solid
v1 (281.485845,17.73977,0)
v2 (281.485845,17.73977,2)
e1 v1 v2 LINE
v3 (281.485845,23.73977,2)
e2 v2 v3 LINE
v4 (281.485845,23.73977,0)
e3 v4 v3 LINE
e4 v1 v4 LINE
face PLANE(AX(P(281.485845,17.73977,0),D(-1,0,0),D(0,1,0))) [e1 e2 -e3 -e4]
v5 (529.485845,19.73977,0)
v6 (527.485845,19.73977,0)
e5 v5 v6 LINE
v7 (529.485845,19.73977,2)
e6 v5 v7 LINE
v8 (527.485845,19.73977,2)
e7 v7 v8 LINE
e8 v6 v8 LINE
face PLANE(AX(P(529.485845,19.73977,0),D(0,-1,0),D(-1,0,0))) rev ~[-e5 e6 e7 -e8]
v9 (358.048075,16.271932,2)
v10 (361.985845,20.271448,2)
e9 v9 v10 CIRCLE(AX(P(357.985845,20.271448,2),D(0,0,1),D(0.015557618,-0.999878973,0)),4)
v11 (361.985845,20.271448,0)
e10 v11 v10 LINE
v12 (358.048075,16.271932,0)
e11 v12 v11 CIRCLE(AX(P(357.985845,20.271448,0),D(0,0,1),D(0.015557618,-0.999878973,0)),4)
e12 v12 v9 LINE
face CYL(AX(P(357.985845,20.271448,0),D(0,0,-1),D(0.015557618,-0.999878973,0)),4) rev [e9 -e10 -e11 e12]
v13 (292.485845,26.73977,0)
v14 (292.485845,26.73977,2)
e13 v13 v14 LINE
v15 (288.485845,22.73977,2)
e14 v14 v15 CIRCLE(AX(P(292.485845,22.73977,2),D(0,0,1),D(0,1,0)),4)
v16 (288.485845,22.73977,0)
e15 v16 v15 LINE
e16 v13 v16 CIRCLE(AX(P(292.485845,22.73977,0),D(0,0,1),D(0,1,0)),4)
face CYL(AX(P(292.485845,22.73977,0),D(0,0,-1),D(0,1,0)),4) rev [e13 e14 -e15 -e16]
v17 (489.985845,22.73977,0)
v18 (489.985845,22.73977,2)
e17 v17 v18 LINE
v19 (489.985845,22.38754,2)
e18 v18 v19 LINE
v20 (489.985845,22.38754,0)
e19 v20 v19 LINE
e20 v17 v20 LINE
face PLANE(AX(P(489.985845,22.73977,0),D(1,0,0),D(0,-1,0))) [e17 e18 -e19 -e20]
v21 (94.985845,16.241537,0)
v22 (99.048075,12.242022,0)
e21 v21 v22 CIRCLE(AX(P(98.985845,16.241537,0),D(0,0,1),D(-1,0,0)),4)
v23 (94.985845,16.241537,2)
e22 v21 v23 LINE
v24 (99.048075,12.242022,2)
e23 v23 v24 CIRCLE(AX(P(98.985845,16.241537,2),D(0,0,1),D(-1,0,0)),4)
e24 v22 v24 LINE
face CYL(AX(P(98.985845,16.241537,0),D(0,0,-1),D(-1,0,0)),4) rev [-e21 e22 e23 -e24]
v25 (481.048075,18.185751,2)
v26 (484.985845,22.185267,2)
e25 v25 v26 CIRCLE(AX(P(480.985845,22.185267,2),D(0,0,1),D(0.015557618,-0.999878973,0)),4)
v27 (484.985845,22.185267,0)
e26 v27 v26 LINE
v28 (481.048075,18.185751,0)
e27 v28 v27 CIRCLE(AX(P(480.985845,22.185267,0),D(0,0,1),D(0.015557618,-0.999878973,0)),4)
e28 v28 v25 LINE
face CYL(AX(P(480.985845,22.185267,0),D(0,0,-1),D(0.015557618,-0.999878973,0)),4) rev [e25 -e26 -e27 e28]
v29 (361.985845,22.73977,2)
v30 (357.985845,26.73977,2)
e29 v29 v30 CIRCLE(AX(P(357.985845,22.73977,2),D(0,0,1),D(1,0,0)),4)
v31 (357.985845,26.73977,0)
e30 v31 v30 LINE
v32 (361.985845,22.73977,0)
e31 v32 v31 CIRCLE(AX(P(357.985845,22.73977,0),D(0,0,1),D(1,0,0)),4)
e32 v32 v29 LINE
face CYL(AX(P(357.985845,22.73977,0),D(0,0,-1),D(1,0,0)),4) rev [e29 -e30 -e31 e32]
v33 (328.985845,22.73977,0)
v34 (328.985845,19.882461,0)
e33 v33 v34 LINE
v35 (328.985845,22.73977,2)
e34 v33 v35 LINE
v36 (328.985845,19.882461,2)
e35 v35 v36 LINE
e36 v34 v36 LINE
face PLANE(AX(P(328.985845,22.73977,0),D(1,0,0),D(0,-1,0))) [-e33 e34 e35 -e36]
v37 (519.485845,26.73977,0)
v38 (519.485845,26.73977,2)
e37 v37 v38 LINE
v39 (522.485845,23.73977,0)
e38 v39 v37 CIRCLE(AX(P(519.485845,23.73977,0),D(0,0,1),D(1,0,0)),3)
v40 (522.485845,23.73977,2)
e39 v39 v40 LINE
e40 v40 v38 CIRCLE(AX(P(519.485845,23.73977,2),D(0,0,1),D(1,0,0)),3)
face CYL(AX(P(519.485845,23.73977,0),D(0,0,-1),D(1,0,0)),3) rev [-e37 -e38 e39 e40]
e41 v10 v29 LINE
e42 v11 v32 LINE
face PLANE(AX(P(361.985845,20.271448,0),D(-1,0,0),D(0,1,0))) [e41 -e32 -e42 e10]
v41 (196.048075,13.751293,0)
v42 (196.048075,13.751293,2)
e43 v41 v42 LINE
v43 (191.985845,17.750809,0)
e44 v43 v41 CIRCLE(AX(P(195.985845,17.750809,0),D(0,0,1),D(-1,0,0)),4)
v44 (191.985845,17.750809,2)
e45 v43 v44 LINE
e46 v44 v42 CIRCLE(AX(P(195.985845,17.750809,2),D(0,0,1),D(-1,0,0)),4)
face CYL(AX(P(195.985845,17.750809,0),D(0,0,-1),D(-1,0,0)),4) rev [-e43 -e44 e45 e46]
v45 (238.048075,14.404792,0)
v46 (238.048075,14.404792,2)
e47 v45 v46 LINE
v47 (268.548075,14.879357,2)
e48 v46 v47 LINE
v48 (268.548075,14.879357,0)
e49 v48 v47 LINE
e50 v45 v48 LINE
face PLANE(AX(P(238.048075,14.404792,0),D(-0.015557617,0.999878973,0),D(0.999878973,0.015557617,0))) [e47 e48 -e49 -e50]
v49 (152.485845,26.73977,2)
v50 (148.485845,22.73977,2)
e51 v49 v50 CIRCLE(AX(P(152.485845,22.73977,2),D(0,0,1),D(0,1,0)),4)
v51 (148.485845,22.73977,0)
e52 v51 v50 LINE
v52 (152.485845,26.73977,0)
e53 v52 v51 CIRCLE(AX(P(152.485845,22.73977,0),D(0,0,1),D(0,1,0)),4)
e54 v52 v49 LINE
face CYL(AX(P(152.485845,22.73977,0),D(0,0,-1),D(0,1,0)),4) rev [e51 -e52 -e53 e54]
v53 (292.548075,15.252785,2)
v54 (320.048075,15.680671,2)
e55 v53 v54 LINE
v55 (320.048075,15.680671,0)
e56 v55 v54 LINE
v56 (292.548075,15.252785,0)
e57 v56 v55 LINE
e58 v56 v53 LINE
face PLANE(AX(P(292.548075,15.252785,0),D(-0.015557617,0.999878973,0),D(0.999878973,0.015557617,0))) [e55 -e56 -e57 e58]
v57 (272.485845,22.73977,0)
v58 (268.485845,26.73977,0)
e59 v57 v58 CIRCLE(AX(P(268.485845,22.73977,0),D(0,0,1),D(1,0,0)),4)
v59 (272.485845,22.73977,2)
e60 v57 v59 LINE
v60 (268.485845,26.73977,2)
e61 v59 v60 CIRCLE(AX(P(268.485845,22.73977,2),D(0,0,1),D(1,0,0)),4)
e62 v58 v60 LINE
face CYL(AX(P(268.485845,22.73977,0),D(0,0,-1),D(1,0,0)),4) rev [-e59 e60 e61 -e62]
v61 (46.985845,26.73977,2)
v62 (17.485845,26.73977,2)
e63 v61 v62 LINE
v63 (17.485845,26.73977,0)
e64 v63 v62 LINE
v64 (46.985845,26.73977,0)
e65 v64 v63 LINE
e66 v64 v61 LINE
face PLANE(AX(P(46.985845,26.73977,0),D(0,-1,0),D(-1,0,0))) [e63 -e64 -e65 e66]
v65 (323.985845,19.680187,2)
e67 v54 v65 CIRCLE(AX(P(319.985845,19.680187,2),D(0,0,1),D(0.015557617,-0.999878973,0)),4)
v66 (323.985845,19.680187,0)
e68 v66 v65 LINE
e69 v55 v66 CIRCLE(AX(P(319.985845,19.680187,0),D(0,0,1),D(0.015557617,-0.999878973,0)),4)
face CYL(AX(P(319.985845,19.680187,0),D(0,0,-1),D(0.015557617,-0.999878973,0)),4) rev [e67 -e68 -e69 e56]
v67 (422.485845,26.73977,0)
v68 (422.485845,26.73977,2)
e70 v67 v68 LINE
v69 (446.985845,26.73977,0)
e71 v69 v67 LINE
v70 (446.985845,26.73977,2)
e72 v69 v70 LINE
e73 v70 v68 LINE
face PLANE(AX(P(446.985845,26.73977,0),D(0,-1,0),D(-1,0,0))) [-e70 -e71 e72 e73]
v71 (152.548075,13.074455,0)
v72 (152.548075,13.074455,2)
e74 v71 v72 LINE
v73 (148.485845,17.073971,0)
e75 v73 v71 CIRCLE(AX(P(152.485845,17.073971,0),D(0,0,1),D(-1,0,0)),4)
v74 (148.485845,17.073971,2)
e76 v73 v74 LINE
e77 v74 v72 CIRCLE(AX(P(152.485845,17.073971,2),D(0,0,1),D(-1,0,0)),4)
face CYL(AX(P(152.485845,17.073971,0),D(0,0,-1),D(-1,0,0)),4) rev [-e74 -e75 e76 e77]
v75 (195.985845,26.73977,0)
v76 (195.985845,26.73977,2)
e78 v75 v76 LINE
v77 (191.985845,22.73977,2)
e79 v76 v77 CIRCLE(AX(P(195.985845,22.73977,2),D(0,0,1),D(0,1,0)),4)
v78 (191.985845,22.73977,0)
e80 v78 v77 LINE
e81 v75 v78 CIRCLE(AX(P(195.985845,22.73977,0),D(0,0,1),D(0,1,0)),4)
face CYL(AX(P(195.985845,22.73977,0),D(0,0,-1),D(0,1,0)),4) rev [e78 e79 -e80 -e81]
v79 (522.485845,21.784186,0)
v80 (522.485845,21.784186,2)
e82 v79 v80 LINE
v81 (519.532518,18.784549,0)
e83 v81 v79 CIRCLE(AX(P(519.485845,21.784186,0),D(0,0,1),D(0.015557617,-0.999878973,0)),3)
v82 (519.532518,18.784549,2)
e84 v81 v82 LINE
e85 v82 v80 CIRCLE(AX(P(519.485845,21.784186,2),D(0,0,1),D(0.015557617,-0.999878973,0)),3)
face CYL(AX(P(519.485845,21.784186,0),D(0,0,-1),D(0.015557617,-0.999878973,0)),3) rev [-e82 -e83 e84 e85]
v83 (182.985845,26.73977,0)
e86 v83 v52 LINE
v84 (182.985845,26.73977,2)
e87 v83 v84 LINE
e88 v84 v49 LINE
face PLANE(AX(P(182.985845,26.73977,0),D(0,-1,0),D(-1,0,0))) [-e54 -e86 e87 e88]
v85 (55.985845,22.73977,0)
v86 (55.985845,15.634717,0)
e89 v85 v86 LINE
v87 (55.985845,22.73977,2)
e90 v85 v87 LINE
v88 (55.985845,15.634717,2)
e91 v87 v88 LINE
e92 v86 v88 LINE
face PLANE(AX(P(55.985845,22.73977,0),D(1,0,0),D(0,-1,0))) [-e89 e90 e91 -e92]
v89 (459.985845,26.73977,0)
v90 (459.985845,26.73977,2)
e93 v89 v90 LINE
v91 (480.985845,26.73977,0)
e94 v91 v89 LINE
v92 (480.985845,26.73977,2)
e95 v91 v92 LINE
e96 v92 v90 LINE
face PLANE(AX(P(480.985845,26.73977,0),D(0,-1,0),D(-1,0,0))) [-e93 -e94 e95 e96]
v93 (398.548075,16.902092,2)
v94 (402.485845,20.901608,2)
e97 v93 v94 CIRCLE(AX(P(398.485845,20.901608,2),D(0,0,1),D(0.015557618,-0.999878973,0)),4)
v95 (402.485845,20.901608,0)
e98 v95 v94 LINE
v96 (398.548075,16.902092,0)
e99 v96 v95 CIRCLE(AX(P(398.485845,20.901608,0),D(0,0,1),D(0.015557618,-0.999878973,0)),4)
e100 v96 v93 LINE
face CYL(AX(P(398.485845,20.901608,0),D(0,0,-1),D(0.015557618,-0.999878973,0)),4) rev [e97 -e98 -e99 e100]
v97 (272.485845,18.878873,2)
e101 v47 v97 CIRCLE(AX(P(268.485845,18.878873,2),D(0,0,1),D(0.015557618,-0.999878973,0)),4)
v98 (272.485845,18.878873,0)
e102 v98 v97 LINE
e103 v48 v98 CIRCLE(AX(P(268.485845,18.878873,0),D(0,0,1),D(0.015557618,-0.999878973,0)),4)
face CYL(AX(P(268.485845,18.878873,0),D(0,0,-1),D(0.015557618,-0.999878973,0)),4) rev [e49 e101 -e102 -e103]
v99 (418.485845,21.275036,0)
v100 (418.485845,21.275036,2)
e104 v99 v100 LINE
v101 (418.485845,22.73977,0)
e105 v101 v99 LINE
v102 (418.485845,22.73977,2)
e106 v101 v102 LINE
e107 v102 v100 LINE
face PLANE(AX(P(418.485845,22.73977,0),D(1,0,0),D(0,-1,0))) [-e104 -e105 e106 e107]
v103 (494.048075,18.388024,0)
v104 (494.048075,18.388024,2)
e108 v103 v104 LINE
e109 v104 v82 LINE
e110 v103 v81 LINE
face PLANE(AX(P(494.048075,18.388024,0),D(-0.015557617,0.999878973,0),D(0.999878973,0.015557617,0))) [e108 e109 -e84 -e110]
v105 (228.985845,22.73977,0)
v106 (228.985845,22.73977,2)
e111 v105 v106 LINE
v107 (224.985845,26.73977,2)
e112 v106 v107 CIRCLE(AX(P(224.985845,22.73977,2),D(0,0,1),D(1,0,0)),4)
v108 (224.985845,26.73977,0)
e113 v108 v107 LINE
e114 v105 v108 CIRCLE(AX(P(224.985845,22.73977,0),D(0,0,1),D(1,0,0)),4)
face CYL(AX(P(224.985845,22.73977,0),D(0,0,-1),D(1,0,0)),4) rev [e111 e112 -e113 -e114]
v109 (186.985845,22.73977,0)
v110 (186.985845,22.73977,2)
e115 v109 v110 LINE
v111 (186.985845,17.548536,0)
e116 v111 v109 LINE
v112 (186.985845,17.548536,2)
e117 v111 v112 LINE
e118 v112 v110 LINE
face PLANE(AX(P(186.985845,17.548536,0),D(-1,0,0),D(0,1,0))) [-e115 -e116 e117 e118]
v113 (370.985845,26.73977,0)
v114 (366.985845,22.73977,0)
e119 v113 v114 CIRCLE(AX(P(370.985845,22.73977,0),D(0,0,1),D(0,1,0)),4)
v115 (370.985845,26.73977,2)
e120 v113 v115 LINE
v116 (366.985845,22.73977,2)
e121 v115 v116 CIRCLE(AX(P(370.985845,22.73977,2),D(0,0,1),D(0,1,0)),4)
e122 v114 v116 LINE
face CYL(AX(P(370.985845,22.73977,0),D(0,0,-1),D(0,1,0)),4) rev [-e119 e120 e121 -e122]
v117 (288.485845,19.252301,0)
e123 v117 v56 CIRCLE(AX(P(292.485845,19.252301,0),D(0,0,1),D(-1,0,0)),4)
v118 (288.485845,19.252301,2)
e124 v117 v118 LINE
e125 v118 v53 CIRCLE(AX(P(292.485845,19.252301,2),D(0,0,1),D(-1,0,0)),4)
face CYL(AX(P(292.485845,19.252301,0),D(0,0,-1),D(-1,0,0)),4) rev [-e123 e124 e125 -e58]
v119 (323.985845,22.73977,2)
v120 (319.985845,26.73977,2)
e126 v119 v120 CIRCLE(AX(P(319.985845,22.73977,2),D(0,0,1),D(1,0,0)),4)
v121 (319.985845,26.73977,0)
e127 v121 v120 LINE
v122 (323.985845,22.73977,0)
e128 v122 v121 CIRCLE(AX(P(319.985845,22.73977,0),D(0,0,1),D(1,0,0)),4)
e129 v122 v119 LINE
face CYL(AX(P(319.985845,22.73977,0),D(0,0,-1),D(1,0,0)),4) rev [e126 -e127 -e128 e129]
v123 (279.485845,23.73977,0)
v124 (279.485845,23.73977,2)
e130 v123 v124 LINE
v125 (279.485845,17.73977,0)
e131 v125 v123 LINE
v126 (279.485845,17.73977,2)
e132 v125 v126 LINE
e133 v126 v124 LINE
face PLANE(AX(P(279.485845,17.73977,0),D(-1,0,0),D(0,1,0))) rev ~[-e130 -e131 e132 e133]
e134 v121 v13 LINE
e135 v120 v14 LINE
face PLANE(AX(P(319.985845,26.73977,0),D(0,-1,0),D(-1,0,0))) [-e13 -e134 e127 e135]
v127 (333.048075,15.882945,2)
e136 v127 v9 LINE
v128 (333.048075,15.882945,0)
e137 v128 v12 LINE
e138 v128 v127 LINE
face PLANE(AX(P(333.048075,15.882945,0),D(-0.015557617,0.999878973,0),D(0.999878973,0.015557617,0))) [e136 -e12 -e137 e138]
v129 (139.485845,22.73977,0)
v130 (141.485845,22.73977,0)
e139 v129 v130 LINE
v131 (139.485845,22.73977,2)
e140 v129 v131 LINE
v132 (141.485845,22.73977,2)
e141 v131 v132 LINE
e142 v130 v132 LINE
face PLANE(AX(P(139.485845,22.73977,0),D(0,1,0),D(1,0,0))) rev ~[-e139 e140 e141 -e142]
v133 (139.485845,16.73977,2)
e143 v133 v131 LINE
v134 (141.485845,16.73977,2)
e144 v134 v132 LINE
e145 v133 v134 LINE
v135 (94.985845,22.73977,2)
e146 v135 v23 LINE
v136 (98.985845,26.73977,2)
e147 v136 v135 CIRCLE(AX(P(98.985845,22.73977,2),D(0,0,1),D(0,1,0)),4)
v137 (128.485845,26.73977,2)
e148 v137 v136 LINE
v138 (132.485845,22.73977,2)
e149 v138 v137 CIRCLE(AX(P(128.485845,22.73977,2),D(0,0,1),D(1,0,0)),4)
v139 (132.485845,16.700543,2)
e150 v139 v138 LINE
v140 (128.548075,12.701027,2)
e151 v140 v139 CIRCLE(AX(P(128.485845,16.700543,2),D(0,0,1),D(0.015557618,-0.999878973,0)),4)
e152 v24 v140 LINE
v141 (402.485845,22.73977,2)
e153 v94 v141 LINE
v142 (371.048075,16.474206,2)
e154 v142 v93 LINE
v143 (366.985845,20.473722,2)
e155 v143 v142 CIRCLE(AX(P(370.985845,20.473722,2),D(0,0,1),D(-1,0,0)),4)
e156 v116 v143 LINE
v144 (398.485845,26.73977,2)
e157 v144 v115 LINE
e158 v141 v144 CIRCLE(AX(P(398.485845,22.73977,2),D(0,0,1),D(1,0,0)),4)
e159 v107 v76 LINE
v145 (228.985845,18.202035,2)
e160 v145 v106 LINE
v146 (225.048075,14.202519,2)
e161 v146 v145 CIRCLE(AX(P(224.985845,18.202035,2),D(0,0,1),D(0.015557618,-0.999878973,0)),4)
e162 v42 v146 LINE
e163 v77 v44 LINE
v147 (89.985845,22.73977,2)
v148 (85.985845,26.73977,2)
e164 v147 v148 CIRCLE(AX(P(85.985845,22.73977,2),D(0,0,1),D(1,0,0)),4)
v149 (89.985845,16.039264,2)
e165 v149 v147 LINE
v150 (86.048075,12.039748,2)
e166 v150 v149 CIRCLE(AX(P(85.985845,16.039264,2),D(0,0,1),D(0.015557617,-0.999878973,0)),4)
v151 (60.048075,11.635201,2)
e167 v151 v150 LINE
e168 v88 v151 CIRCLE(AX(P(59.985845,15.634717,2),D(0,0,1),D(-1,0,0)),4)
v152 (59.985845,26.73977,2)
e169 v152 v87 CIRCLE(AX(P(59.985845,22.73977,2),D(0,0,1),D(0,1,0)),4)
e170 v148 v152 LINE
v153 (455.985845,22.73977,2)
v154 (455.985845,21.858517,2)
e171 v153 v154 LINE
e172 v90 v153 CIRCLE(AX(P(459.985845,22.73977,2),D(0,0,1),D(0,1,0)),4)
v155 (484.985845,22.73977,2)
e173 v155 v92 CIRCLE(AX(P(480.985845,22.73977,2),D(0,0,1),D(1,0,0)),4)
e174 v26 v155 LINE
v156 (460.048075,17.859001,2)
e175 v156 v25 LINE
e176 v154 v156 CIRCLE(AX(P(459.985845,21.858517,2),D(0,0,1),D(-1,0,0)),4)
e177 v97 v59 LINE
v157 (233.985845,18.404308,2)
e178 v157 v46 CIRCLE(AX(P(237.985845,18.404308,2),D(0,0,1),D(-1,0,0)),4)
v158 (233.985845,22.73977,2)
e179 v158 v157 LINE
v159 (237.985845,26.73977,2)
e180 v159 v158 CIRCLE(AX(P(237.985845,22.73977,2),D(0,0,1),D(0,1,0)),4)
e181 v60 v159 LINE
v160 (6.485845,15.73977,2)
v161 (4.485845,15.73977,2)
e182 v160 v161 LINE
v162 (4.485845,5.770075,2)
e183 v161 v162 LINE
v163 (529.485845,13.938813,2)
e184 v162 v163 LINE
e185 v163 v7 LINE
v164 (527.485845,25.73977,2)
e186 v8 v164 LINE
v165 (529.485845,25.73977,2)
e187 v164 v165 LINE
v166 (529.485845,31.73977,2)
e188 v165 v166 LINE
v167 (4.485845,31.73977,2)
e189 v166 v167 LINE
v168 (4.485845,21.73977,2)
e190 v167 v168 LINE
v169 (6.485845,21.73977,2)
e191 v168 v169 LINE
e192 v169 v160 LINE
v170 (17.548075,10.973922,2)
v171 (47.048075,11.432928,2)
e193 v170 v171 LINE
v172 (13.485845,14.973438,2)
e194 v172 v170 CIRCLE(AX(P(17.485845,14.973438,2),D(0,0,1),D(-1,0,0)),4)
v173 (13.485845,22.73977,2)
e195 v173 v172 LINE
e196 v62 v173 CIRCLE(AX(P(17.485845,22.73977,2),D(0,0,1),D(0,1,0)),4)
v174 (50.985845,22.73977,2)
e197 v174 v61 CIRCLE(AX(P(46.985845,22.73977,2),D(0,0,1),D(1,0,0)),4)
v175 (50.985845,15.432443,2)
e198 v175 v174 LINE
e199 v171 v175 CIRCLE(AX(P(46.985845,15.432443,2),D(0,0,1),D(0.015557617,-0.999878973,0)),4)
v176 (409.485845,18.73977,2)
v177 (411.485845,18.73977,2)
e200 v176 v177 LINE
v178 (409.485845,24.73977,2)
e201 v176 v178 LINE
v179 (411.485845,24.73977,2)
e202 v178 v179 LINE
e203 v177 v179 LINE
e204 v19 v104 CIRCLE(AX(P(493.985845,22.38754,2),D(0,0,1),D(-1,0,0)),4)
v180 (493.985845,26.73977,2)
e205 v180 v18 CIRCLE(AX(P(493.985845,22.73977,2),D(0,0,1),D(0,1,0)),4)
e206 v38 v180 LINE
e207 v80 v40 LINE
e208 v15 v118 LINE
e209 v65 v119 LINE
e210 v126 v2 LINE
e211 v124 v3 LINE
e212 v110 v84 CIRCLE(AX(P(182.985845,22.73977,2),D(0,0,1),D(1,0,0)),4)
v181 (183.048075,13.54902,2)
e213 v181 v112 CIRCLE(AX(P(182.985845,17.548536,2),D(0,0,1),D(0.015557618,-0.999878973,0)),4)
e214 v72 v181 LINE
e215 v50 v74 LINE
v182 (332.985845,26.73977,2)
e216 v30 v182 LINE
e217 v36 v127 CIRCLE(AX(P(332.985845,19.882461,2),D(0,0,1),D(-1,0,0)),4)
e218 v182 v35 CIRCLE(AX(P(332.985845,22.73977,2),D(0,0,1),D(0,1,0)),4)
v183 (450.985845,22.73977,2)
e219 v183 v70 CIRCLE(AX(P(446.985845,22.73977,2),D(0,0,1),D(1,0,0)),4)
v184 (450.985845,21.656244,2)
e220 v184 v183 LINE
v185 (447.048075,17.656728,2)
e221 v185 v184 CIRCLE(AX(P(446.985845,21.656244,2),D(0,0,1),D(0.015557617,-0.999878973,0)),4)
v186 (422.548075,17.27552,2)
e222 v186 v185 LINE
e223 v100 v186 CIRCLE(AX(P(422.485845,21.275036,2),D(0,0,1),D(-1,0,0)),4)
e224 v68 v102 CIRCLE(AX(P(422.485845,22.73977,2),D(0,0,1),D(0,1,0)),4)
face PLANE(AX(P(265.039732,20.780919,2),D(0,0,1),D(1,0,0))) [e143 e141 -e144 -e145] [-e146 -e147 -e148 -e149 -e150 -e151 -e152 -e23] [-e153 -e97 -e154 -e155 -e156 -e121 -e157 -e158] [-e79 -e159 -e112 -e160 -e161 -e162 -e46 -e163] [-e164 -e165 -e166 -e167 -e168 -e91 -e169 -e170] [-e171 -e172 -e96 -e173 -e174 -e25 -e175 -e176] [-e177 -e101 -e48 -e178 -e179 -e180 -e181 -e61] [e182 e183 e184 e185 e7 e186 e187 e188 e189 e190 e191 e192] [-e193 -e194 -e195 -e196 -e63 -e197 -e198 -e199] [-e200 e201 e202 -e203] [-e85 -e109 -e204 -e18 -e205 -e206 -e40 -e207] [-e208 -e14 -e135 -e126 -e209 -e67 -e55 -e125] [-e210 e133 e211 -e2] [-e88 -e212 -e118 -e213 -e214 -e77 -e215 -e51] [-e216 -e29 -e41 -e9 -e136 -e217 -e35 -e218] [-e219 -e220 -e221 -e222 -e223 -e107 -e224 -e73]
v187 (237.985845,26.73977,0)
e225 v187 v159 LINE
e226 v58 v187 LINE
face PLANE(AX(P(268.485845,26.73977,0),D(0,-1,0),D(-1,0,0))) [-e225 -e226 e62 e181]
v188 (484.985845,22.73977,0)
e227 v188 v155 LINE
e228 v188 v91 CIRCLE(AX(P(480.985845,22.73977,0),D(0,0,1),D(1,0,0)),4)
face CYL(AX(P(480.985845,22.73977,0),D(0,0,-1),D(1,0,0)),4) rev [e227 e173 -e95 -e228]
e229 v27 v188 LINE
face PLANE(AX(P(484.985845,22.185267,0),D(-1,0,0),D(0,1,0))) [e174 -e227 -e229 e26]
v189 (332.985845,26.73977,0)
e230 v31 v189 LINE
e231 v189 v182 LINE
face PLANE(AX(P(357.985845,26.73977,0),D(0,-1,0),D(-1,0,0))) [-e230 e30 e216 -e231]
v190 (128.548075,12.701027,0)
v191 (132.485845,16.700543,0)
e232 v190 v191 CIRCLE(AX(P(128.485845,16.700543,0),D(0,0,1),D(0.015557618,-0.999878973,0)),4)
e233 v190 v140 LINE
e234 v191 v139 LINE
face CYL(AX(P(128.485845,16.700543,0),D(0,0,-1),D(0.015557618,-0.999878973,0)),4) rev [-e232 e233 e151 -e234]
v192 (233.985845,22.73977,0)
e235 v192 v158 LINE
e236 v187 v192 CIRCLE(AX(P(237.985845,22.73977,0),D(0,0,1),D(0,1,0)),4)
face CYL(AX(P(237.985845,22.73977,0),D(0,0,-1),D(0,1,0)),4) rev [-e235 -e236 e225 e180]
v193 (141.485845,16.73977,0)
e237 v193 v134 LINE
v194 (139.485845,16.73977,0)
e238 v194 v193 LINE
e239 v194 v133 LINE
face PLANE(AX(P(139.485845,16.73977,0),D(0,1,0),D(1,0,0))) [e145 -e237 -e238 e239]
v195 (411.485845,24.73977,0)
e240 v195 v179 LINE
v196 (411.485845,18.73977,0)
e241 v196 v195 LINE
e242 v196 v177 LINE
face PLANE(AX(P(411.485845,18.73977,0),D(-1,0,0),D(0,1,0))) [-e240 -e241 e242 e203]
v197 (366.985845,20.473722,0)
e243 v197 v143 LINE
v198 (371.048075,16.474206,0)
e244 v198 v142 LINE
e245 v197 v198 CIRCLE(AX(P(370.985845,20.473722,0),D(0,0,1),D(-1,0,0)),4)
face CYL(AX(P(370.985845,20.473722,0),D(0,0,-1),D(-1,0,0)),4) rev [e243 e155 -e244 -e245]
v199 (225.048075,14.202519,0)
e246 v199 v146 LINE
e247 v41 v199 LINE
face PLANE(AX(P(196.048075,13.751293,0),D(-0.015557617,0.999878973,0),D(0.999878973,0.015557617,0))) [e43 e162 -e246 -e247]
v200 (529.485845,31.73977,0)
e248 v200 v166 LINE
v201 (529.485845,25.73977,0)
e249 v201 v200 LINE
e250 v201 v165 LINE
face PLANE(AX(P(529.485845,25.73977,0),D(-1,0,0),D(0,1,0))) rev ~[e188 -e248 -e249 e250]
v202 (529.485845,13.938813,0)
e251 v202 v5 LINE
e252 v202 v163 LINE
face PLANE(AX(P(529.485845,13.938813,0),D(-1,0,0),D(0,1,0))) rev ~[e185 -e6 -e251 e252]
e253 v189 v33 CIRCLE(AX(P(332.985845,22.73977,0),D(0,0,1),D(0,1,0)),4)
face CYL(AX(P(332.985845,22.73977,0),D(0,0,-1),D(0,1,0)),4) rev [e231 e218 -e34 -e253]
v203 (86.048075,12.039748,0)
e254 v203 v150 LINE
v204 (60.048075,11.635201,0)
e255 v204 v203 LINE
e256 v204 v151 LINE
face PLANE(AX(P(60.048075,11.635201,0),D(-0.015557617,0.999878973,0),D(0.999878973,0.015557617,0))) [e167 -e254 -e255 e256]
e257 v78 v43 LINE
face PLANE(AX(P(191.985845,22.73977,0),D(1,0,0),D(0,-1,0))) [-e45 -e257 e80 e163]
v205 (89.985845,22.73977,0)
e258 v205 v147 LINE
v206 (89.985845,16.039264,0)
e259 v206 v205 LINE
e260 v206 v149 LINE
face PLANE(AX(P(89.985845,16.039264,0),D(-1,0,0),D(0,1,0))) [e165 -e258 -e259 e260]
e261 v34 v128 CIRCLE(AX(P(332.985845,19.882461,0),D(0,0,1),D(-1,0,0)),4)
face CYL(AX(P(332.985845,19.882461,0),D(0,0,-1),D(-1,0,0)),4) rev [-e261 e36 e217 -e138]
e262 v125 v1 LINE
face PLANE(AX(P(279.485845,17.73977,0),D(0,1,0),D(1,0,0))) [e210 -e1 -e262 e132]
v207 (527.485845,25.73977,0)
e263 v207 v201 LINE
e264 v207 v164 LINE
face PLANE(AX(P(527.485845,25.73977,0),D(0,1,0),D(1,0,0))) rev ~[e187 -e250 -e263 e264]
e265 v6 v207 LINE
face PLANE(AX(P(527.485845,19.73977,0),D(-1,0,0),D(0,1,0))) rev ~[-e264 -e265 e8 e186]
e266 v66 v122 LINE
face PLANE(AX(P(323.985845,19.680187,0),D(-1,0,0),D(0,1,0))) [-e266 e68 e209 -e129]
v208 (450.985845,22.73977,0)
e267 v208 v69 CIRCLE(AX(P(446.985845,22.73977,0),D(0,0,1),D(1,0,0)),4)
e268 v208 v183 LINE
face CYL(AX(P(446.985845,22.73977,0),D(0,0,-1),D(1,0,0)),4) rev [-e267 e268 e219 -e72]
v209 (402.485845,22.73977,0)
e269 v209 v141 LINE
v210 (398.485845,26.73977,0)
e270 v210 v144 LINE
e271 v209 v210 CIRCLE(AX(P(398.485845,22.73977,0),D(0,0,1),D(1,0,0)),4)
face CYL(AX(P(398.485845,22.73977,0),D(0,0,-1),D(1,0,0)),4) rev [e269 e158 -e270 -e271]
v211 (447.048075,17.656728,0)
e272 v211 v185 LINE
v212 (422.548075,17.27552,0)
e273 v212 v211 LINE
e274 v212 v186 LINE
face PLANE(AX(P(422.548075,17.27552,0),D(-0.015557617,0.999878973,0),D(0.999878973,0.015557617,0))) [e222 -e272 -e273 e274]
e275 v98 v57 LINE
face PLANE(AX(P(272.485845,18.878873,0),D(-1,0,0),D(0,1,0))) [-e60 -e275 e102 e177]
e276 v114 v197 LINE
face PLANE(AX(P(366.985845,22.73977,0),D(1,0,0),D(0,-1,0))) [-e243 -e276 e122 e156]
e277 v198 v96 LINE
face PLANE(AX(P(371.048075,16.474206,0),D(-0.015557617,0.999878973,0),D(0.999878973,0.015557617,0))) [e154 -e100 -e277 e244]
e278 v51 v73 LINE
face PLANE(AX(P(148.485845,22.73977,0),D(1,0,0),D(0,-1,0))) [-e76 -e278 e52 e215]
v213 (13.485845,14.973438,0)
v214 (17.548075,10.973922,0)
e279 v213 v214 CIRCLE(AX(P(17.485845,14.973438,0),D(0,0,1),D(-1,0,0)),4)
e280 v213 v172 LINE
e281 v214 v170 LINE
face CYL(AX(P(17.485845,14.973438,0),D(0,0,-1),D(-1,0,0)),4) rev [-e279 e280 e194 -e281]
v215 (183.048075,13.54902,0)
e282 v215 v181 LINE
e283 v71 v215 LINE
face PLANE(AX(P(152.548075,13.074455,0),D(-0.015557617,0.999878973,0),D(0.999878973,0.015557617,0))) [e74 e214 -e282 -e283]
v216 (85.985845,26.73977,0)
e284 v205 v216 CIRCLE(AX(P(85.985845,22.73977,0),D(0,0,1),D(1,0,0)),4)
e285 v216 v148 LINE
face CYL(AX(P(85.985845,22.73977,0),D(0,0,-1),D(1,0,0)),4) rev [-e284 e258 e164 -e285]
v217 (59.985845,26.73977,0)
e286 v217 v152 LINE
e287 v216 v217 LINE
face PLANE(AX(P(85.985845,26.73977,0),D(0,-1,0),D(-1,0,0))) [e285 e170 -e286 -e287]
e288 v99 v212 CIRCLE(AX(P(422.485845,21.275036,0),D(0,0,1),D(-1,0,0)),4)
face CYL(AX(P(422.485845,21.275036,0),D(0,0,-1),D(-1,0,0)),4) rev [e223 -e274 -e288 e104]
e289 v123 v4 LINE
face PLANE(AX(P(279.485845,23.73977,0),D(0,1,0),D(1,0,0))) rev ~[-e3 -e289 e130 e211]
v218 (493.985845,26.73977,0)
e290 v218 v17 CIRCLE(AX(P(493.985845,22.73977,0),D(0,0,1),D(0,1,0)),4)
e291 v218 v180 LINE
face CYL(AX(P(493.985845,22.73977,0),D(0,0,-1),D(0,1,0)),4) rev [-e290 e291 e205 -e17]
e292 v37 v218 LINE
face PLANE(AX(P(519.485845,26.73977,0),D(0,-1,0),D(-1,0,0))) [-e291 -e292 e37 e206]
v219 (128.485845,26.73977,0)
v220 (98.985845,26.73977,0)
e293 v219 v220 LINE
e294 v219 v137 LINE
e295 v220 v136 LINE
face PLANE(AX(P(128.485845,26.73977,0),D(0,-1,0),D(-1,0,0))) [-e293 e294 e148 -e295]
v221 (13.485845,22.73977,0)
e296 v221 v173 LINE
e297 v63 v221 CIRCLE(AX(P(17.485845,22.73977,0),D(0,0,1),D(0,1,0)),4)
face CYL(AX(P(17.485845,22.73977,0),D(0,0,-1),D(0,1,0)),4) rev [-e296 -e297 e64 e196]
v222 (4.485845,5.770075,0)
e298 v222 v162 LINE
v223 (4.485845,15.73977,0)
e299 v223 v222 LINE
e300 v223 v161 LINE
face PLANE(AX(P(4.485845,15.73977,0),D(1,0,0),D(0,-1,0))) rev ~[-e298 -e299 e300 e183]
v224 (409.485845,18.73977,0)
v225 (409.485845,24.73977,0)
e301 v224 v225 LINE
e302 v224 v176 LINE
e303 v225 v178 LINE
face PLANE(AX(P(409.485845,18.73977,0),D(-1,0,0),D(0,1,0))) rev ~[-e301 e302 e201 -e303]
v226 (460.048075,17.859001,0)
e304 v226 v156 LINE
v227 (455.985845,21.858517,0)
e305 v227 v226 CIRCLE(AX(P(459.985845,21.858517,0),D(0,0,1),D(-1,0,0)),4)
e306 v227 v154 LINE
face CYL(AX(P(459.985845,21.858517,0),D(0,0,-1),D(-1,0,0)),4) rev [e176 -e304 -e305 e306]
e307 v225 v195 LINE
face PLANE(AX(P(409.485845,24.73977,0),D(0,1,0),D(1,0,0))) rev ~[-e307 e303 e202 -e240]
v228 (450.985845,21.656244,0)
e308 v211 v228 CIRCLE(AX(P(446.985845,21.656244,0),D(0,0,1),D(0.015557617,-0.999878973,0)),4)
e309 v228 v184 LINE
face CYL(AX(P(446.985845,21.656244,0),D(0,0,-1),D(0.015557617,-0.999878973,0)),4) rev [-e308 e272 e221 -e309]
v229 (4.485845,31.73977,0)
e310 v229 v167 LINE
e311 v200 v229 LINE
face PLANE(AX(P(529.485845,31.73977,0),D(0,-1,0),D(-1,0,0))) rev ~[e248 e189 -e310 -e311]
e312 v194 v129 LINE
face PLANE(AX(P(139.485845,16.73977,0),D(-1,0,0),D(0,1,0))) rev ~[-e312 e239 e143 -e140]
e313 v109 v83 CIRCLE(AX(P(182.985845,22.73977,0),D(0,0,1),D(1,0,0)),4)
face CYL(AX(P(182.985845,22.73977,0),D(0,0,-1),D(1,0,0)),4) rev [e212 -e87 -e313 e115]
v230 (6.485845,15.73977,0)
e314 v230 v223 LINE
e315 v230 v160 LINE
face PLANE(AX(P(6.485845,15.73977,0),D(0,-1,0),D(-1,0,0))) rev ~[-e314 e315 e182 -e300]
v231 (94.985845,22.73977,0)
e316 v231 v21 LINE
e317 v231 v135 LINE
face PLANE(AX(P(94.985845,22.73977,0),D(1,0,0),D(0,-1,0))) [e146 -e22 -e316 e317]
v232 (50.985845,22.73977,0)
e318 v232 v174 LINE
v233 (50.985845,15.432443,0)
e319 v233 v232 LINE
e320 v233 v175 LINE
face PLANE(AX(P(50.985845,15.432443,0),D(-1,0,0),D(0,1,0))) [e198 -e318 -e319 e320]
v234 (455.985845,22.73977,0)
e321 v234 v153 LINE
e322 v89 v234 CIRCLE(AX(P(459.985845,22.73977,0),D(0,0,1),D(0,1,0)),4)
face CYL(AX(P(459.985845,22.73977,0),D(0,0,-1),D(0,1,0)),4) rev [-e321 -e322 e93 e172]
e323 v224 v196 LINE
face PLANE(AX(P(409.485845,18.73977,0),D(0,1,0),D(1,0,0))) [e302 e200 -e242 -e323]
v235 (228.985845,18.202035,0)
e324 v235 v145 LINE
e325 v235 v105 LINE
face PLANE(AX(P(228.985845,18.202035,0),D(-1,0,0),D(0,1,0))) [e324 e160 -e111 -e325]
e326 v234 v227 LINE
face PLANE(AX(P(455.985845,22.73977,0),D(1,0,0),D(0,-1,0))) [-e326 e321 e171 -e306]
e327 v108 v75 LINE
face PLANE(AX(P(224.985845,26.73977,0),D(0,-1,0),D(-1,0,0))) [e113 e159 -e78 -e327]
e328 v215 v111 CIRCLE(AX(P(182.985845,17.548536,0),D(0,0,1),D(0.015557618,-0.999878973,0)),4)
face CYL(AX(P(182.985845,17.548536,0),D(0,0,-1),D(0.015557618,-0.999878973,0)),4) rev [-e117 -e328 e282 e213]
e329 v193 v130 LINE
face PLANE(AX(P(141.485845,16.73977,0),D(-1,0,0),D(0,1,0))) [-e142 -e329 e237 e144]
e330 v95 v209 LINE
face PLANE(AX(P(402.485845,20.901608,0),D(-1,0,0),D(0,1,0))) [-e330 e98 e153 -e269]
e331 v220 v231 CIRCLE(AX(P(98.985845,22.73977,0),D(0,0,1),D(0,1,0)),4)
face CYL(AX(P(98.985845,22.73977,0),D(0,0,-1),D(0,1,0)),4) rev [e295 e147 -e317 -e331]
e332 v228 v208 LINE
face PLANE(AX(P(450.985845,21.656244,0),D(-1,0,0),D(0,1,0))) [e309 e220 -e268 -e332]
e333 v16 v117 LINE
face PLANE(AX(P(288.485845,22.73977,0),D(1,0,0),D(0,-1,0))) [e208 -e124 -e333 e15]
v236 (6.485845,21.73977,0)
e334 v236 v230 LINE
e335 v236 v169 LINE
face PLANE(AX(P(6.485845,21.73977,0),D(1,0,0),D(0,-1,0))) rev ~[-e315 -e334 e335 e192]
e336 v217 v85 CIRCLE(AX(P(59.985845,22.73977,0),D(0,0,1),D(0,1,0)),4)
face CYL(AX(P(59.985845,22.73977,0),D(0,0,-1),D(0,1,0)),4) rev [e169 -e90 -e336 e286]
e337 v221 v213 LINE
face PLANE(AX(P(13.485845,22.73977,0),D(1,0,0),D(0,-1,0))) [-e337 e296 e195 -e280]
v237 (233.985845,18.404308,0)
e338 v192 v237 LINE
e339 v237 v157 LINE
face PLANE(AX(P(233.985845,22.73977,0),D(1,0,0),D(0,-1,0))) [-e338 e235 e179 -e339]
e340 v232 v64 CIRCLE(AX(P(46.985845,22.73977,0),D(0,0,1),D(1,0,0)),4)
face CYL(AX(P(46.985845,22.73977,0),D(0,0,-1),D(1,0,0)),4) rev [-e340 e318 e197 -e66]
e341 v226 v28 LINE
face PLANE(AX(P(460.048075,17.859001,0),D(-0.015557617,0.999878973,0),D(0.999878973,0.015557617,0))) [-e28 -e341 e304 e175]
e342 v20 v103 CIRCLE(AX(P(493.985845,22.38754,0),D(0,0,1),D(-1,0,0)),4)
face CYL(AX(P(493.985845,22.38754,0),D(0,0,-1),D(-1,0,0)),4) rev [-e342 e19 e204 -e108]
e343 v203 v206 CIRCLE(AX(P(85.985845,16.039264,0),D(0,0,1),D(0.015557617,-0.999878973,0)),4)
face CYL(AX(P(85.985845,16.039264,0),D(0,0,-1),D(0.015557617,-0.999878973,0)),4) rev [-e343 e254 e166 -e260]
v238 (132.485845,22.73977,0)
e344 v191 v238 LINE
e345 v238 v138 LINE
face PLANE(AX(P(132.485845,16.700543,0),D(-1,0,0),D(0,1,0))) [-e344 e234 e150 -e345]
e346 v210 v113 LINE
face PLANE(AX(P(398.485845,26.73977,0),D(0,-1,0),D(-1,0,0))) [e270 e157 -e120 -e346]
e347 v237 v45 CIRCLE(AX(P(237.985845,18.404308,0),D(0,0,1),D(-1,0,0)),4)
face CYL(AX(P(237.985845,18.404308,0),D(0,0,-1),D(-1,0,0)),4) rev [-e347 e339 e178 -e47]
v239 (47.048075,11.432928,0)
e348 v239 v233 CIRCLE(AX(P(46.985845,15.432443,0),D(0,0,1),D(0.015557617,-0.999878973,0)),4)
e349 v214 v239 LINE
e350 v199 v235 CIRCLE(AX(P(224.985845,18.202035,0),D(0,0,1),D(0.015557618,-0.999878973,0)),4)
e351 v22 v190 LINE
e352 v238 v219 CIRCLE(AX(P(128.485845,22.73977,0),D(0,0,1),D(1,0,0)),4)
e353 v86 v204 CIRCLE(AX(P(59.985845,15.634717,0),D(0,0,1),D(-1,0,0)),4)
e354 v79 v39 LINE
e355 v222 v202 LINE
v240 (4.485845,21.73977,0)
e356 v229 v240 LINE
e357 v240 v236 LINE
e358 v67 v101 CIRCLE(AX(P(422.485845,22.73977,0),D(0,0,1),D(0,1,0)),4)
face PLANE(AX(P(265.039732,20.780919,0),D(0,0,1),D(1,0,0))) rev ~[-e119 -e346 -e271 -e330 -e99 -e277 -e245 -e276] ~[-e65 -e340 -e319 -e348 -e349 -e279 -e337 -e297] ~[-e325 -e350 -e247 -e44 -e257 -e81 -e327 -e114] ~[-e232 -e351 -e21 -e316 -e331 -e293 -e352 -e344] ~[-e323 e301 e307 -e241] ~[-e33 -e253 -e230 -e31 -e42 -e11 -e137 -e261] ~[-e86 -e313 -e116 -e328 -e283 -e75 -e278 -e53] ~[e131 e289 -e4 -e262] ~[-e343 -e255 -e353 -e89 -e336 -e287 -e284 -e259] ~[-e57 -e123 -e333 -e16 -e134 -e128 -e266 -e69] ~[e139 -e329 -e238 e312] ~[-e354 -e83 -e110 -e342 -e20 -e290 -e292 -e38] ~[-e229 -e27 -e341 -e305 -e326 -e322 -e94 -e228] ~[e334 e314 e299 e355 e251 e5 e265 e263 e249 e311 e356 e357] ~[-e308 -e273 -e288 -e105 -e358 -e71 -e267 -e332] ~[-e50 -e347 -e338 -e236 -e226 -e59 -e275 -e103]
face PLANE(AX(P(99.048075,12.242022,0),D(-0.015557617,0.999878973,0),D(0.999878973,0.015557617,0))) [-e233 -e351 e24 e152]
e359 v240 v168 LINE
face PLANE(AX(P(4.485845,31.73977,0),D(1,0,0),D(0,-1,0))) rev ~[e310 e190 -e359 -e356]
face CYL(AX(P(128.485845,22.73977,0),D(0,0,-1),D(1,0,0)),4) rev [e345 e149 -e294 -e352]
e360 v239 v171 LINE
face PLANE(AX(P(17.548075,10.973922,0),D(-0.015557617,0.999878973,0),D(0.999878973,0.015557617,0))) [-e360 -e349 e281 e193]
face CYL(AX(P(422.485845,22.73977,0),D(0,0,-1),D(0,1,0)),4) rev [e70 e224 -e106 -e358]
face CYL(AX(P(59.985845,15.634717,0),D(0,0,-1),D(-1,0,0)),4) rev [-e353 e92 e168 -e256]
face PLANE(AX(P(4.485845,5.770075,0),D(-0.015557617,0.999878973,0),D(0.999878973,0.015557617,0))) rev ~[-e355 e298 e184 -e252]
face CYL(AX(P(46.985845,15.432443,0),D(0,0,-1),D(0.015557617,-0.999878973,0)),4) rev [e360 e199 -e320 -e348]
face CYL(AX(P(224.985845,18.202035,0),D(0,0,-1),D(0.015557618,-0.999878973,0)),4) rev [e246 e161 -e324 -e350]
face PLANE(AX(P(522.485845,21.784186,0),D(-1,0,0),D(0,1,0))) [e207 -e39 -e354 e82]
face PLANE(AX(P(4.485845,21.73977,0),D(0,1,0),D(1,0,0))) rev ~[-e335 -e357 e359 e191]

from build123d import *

# Parameters (mm, degrees)
SKETCH_1_W      = 2
SKETCH_1_H      = 6
EXTRUDE_1_DEPTH = 2


with BuildPart() as part:
    # 草图1 → 凸台-拉伸1 (new body)
    with BuildSketch(Plane.XY):
        Polygon((529.48584496, 31.739769875), (4.48584496, 31.739769875), (4.48584496, 21.739769875), (6.48584496, 21.739769875), (6.48584496, 15.739769875), (4.48584496, 15.739769875), (4.48584496, 5.770075294), (529.48584496, 13.938813064), (529.48584496, 19.739769875), (527.48584496, 19.739769875), (527.48584496, 25.739769875), (529.48584496, 25.739769875), align=None)
        with Locations((140.48584496, 19.739769875)):
            Rectangle(SKETCH_1_W, SKETCH_1_H, mode=Mode.SUBTRACT)
        with Locations((280.48584496, 20.739769875)):
            Rectangle(SKETCH_1_W, SKETCH_1_H, mode=Mode.SUBTRACT)
        with Locations((410.48584496, 21.739769875)):
            Rectangle(SKETCH_1_W, SKETCH_1_H, mode=Mode.SUBTRACT)
        with BuildLine():
            Line((13.48584496, 22.739769875), (13.48584496, 14.973438176))
            ThreePointArc((13.48584496, 14.973438176), (14.679505875, 12.123094173), (17.54807543, 10.973922284))
            Line((17.54807543, 10.973922284), (47.04807543, 11.43292755))
            ThreePointArc((47.04807543, 11.43292755), (49.836188964, 12.626104356), (50.98584496, 15.432443441))
            Line((50.98584496, 15.432443441), (50.98584496, 22.739769875))
            ThreePointArc((50.98584496, 22.739769875), (49.814272085, 25.568196999), (46.98584496, 26.739769875))
            Line((46.98584496, 26.739769875), (17.48584496, 26.739769875))
            ThreePointArc((17.48584496, 26.739769875), (14.657417835, 25.568196999), (13.48584496, 22.739769875))
        make_face(mode=Mode.SUBTRACT)
        with BuildLine():
            Line((55.98584496, 22.739769875), (55.98584496, 15.634716948))
            ThreePointArc((55.98584496, 15.634716948), (57.179505875, 12.784372944), (60.04807543, 11.635201056))
            Line((60.04807543, 11.635201056), (86.04807543, 12.03974807))
            ThreePointArc((86.04807543, 12.03974807), (88.836188964, 13.232924876), (89.98584496, 16.039263961))
            Line((89.98584496, 16.039263961), (89.98584496, 22.739769875))
            ThreePointArc((89.98584496, 22.739769875), (88.814272085, 25.568196999), (85.98584496, 26.739769875))
            Line((85.98584496, 26.739769875), (59.98584496, 26.739769875))
            ThreePointArc((59.98584496, 26.739769875), (57.157417835, 25.568196999), (55.98584496, 22.739769875))
        make_face(mode=Mode.SUBTRACT)
        with BuildLine():
            Line((94.98584496, 22.739769875), (94.98584496, 16.241537468))
            ThreePointArc((94.98584496, 16.241537468), (96.179505875, 13.391193464), (99.04807543, 12.242021576))
            Line((99.04807543, 12.242021576), (128.54807543, 12.701026841))
            ThreePointArc((128.54807543, 12.701026841), (131.336188964, 13.894203648), (132.48584496, 16.700542733))
            Line((132.48584496, 16.700542733), (132.48584496, 22.739769875))
            ThreePointArc((132.48584496, 22.739769875), (131.314272085, 25.568196999), (128.48584496, 26.739769875))
            Line((128.48584496, 26.739769875), (98.98584496, 26.739769875))
            ThreePointArc((98.98584496, 26.739769875), (96.157417835, 25.568196999), (94.98584496, 22.739769875))
        make_face(mode=Mode.SUBTRACT)
        with BuildLine():
            Line((148.48584496, 22.739769875), (148.48584496, 17.073970745))
            ThreePointArc((148.48584496, 17.073970745), (149.679505875, 14.223626742), (152.54807543, 13.074454854))
            Line((152.54807543, 13.074454854), (183.04807543, 13.549019619))
            ThreePointArc((183.04807543, 13.549019619), (185.836188964, 14.742196426), (186.98584496, 17.548535511))
            Line((186.98584496, 17.548535511), (186.98584496, 22.739769875))
            ThreePointArc((186.98584496, 22.739769875), (185.814272085, 25.568196999), (182.98584496, 26.739769875))
            Line((182.98584496, 26.739769875), (152.48584496, 26.739769875))
            ThreePointArc((152.48584496, 26.739769875), (149.657417835, 25.568196999), (148.48584496, 22.739769875))
        make_face(mode=Mode.SUBTRACT)
        with BuildLine():
            Line((191.98584496, 22.739769875), (191.98584496, 17.750809018))
            ThreePointArc((191.98584496, 17.750809018), (193.179505875, 14.900465014), (196.04807543, 13.751293126))
            Line((196.04807543, 13.751293126), (225.04807543, 14.202518641))
            ThreePointArc((225.04807543, 14.202518641), (227.836188964, 15.395695448), (228.98584496, 18.202034533))
            Line((228.98584496, 18.202034533), (228.98584496, 22.739769875))
            ThreePointArc((228.98584496, 22.739769875), (227.814272085, 25.568196999), (224.98584496, 26.739769875))
            Line((224.98584496, 26.739769875), (195.98584496, 26.739769875))
            ThreePointArc((195.98584496, 26.739769875), (193.157417835, 25.568196999), (191.98584496, 22.739769875))
        make_face(mode=Mode.SUBTRACT)
        with BuildLine():
            Line((233.98584496, 22.739769875), (233.98584496, 18.404308039))
            ThreePointArc((233.98584496, 18.404308039), (235.179505875, 15.553964036), (238.04807543, 14.404792148))
            Line((238.04807543, 14.404792148), (268.54807543, 14.879356913))
            ThreePointArc((268.54807543, 14.879356913), (271.336188964, 16.07253372), (272.48584496, 18.878872805))
            Line((272.48584496, 18.878872805), (272.48584496, 22.739769875))
            ThreePointArc((272.48584496, 22.739769875), (271.314272085, 25.568196999), (268.48584496, 26.739769875))
            Line((268.48584496, 26.739769875), (237.98584496, 26.739769875))
            ThreePointArc((237.98584496, 26.739769875), (235.157417835, 25.568196999), (233.98584496, 22.739769875))
        make_face(mode=Mode.SUBTRACT)
        with BuildLine():
            Line((288.48584496, 22.739769875), (288.48584496, 19.252300817))
            ThreePointArc((288.48584496, 19.252300817), (289.679505875, 16.401956814), (292.54807543, 15.252784926))
            Line((292.54807543, 15.252784926), (320.04807543, 15.68067119))
            ThreePointArc((320.04807543, 15.68067119), (322.836188964, 16.873847996), (323.98584496, 19.680187081))
            Line((323.98584496, 19.680187081), (323.98584496, 22.739769875))
            ThreePointArc((323.98584496, 22.739769875), (322.814272085, 25.568196999), (319.98584496, 26.739769875))
            Line((319.98584496, 26.739769875), (292.48584496, 26.739769875))
            ThreePointArc((292.48584496, 26.739769875), (289.657417835, 25.568196999), (288.48584496, 22.739769875))
        make_face(mode=Mode.SUBTRACT)
        with BuildLine():
            Line((328.98584496, 22.739769875), (328.98584496, 19.882460588))
            ThreePointArc((328.98584496, 19.882460588), (330.179505875, 17.032116584), (333.04807543, 15.882944696))
            Line((333.04807543, 15.882944696), (358.04807543, 16.271932209))
            ThreePointArc((358.04807543, 16.271932209), (360.836188964, 17.465109016), (361.98584496, 20.271448101))
            Line((361.98584496, 20.271448101), (361.98584496, 22.739769875))
            ThreePointArc((361.98584496, 22.739769875), (360.814272085, 25.568196999), (357.98584496, 26.739769875))
            Line((357.98584496, 26.739769875), (332.98584496, 26.739769875))
            ThreePointArc((332.98584496, 26.739769875), (330.157417835, 25.568196999), (328.98584496, 22.739769875))
        make_face(mode=Mode.SUBTRACT)
        with BuildLine():
            Line((366.98584496, 22.739769875), (366.98584496, 20.473721608))
            ThreePointArc((366.98584496, 20.473721608), (368.179505875, 17.623377604), (371.04807543, 16.474205716))
            Line((371.04807543, 16.474205716), (398.54807543, 16.90209198))
            ThreePointArc((398.54807543, 16.90209198), (401.336188964, 18.095268787), (402.48584496, 20.901607872))
            Line((402.48584496, 20.901607872), (402.48584496, 22.739769875))
            ThreePointArc((402.48584496, 22.739769875), (401.314272085, 25.568196999), (398.48584496, 26.739769875))
            Line((398.48584496, 26.739769875), (370.98584496, 26.739769875))
            ThreePointArc((370.98584496, 26.739769875), (368.157417835, 25.568196999), (366.98584496, 22.739769875))
        make_face(mode=Mode.SUBTRACT)
        with BuildLine():
            Line((418.48584496, 22.739769875), (418.48584496, 21.275035884))
            ThreePointArc((418.48584496, 21.275035884), (419.679505875, 18.42469188), (422.54807543, 17.275519992))
            Line((422.54807543, 17.275519992), (447.04807543, 17.656727755))
            ThreePointArc((447.04807543, 17.656727755), (449.836188964, 18.849904561), (450.98584496, 21.656243647))
            Line((450.98584496, 21.656243647), (450.98584496, 22.739769875))
            ThreePointArc((450.98584496, 22.739769875), (449.814272085, 25.568196999), (446.98584496, 26.739769875))
            Line((446.98584496, 26.739769875), (422.48584496, 26.739769875))
            ThreePointArc((422.48584496, 26.739769875), (419.657417835, 25.568196999), (418.48584496, 22.739769875))
        make_face(mode=Mode.SUBTRACT)
        with BuildLine():
            Line((455.98584496, 22.739769875), (455.98584496, 21.858517153))
            ThreePointArc((455.98584496, 21.858517153), (457.179505875, 19.00817315), (460.04807543, 17.859001262))
            Line((460.04807543, 17.859001262), (481.04807543, 18.185750772))
            ThreePointArc((481.04807543, 18.185750772), (483.836188964, 19.378927579), (484.98584496, 22.185266664))
            Line((484.98584496, 22.185266664), (484.98584496, 22.739769875))
            ThreePointArc((484.98584496, 22.739769875), (483.814272085, 25.568196999), (480.98584496, 26.739769875))
            Line((480.98584496, 26.739769875), (459.98584496, 26.739769875))
            ThreePointArc((459.98584496, 26.739769875), (457.157417835, 25.568196999), (455.98584496, 22.739769875))
        make_face(mode=Mode.SUBTRACT)
        with BuildLine():
            Line((489.98584496, 22.739769875), (489.98584496, 22.387540171))
            ThreePointArc((489.98584496, 22.387540171), (491.179505875, 19.537196167), (494.04807543, 18.388024279))
            Line((494.04807543, 18.388024279), (519.532517812, 18.784549473))
            ThreePointArc((519.532517812, 18.784549473), (521.623602963, 19.679432078), (522.48584496, 21.784186392))
            Line((522.48584496, 21.784186392), (522.48584496, 23.739769875))
            ThreePointArc((522.48584496, 23.739769875), (521.607165304, 25.861090218), (519.48584496, 26.739769875))
            Line((519.48584496, 26.739769875), (493.98584496, 26.739769875))
            ThreePointArc((493.98584496, 26.739769875), (491.157417835, 25.568196999), (489.98584496, 22.739769875))
        make_face(mode=Mode.SUBTRACT)
    extrude(amount=EXTRUDE_1_DEPTH)


solid = part.part
